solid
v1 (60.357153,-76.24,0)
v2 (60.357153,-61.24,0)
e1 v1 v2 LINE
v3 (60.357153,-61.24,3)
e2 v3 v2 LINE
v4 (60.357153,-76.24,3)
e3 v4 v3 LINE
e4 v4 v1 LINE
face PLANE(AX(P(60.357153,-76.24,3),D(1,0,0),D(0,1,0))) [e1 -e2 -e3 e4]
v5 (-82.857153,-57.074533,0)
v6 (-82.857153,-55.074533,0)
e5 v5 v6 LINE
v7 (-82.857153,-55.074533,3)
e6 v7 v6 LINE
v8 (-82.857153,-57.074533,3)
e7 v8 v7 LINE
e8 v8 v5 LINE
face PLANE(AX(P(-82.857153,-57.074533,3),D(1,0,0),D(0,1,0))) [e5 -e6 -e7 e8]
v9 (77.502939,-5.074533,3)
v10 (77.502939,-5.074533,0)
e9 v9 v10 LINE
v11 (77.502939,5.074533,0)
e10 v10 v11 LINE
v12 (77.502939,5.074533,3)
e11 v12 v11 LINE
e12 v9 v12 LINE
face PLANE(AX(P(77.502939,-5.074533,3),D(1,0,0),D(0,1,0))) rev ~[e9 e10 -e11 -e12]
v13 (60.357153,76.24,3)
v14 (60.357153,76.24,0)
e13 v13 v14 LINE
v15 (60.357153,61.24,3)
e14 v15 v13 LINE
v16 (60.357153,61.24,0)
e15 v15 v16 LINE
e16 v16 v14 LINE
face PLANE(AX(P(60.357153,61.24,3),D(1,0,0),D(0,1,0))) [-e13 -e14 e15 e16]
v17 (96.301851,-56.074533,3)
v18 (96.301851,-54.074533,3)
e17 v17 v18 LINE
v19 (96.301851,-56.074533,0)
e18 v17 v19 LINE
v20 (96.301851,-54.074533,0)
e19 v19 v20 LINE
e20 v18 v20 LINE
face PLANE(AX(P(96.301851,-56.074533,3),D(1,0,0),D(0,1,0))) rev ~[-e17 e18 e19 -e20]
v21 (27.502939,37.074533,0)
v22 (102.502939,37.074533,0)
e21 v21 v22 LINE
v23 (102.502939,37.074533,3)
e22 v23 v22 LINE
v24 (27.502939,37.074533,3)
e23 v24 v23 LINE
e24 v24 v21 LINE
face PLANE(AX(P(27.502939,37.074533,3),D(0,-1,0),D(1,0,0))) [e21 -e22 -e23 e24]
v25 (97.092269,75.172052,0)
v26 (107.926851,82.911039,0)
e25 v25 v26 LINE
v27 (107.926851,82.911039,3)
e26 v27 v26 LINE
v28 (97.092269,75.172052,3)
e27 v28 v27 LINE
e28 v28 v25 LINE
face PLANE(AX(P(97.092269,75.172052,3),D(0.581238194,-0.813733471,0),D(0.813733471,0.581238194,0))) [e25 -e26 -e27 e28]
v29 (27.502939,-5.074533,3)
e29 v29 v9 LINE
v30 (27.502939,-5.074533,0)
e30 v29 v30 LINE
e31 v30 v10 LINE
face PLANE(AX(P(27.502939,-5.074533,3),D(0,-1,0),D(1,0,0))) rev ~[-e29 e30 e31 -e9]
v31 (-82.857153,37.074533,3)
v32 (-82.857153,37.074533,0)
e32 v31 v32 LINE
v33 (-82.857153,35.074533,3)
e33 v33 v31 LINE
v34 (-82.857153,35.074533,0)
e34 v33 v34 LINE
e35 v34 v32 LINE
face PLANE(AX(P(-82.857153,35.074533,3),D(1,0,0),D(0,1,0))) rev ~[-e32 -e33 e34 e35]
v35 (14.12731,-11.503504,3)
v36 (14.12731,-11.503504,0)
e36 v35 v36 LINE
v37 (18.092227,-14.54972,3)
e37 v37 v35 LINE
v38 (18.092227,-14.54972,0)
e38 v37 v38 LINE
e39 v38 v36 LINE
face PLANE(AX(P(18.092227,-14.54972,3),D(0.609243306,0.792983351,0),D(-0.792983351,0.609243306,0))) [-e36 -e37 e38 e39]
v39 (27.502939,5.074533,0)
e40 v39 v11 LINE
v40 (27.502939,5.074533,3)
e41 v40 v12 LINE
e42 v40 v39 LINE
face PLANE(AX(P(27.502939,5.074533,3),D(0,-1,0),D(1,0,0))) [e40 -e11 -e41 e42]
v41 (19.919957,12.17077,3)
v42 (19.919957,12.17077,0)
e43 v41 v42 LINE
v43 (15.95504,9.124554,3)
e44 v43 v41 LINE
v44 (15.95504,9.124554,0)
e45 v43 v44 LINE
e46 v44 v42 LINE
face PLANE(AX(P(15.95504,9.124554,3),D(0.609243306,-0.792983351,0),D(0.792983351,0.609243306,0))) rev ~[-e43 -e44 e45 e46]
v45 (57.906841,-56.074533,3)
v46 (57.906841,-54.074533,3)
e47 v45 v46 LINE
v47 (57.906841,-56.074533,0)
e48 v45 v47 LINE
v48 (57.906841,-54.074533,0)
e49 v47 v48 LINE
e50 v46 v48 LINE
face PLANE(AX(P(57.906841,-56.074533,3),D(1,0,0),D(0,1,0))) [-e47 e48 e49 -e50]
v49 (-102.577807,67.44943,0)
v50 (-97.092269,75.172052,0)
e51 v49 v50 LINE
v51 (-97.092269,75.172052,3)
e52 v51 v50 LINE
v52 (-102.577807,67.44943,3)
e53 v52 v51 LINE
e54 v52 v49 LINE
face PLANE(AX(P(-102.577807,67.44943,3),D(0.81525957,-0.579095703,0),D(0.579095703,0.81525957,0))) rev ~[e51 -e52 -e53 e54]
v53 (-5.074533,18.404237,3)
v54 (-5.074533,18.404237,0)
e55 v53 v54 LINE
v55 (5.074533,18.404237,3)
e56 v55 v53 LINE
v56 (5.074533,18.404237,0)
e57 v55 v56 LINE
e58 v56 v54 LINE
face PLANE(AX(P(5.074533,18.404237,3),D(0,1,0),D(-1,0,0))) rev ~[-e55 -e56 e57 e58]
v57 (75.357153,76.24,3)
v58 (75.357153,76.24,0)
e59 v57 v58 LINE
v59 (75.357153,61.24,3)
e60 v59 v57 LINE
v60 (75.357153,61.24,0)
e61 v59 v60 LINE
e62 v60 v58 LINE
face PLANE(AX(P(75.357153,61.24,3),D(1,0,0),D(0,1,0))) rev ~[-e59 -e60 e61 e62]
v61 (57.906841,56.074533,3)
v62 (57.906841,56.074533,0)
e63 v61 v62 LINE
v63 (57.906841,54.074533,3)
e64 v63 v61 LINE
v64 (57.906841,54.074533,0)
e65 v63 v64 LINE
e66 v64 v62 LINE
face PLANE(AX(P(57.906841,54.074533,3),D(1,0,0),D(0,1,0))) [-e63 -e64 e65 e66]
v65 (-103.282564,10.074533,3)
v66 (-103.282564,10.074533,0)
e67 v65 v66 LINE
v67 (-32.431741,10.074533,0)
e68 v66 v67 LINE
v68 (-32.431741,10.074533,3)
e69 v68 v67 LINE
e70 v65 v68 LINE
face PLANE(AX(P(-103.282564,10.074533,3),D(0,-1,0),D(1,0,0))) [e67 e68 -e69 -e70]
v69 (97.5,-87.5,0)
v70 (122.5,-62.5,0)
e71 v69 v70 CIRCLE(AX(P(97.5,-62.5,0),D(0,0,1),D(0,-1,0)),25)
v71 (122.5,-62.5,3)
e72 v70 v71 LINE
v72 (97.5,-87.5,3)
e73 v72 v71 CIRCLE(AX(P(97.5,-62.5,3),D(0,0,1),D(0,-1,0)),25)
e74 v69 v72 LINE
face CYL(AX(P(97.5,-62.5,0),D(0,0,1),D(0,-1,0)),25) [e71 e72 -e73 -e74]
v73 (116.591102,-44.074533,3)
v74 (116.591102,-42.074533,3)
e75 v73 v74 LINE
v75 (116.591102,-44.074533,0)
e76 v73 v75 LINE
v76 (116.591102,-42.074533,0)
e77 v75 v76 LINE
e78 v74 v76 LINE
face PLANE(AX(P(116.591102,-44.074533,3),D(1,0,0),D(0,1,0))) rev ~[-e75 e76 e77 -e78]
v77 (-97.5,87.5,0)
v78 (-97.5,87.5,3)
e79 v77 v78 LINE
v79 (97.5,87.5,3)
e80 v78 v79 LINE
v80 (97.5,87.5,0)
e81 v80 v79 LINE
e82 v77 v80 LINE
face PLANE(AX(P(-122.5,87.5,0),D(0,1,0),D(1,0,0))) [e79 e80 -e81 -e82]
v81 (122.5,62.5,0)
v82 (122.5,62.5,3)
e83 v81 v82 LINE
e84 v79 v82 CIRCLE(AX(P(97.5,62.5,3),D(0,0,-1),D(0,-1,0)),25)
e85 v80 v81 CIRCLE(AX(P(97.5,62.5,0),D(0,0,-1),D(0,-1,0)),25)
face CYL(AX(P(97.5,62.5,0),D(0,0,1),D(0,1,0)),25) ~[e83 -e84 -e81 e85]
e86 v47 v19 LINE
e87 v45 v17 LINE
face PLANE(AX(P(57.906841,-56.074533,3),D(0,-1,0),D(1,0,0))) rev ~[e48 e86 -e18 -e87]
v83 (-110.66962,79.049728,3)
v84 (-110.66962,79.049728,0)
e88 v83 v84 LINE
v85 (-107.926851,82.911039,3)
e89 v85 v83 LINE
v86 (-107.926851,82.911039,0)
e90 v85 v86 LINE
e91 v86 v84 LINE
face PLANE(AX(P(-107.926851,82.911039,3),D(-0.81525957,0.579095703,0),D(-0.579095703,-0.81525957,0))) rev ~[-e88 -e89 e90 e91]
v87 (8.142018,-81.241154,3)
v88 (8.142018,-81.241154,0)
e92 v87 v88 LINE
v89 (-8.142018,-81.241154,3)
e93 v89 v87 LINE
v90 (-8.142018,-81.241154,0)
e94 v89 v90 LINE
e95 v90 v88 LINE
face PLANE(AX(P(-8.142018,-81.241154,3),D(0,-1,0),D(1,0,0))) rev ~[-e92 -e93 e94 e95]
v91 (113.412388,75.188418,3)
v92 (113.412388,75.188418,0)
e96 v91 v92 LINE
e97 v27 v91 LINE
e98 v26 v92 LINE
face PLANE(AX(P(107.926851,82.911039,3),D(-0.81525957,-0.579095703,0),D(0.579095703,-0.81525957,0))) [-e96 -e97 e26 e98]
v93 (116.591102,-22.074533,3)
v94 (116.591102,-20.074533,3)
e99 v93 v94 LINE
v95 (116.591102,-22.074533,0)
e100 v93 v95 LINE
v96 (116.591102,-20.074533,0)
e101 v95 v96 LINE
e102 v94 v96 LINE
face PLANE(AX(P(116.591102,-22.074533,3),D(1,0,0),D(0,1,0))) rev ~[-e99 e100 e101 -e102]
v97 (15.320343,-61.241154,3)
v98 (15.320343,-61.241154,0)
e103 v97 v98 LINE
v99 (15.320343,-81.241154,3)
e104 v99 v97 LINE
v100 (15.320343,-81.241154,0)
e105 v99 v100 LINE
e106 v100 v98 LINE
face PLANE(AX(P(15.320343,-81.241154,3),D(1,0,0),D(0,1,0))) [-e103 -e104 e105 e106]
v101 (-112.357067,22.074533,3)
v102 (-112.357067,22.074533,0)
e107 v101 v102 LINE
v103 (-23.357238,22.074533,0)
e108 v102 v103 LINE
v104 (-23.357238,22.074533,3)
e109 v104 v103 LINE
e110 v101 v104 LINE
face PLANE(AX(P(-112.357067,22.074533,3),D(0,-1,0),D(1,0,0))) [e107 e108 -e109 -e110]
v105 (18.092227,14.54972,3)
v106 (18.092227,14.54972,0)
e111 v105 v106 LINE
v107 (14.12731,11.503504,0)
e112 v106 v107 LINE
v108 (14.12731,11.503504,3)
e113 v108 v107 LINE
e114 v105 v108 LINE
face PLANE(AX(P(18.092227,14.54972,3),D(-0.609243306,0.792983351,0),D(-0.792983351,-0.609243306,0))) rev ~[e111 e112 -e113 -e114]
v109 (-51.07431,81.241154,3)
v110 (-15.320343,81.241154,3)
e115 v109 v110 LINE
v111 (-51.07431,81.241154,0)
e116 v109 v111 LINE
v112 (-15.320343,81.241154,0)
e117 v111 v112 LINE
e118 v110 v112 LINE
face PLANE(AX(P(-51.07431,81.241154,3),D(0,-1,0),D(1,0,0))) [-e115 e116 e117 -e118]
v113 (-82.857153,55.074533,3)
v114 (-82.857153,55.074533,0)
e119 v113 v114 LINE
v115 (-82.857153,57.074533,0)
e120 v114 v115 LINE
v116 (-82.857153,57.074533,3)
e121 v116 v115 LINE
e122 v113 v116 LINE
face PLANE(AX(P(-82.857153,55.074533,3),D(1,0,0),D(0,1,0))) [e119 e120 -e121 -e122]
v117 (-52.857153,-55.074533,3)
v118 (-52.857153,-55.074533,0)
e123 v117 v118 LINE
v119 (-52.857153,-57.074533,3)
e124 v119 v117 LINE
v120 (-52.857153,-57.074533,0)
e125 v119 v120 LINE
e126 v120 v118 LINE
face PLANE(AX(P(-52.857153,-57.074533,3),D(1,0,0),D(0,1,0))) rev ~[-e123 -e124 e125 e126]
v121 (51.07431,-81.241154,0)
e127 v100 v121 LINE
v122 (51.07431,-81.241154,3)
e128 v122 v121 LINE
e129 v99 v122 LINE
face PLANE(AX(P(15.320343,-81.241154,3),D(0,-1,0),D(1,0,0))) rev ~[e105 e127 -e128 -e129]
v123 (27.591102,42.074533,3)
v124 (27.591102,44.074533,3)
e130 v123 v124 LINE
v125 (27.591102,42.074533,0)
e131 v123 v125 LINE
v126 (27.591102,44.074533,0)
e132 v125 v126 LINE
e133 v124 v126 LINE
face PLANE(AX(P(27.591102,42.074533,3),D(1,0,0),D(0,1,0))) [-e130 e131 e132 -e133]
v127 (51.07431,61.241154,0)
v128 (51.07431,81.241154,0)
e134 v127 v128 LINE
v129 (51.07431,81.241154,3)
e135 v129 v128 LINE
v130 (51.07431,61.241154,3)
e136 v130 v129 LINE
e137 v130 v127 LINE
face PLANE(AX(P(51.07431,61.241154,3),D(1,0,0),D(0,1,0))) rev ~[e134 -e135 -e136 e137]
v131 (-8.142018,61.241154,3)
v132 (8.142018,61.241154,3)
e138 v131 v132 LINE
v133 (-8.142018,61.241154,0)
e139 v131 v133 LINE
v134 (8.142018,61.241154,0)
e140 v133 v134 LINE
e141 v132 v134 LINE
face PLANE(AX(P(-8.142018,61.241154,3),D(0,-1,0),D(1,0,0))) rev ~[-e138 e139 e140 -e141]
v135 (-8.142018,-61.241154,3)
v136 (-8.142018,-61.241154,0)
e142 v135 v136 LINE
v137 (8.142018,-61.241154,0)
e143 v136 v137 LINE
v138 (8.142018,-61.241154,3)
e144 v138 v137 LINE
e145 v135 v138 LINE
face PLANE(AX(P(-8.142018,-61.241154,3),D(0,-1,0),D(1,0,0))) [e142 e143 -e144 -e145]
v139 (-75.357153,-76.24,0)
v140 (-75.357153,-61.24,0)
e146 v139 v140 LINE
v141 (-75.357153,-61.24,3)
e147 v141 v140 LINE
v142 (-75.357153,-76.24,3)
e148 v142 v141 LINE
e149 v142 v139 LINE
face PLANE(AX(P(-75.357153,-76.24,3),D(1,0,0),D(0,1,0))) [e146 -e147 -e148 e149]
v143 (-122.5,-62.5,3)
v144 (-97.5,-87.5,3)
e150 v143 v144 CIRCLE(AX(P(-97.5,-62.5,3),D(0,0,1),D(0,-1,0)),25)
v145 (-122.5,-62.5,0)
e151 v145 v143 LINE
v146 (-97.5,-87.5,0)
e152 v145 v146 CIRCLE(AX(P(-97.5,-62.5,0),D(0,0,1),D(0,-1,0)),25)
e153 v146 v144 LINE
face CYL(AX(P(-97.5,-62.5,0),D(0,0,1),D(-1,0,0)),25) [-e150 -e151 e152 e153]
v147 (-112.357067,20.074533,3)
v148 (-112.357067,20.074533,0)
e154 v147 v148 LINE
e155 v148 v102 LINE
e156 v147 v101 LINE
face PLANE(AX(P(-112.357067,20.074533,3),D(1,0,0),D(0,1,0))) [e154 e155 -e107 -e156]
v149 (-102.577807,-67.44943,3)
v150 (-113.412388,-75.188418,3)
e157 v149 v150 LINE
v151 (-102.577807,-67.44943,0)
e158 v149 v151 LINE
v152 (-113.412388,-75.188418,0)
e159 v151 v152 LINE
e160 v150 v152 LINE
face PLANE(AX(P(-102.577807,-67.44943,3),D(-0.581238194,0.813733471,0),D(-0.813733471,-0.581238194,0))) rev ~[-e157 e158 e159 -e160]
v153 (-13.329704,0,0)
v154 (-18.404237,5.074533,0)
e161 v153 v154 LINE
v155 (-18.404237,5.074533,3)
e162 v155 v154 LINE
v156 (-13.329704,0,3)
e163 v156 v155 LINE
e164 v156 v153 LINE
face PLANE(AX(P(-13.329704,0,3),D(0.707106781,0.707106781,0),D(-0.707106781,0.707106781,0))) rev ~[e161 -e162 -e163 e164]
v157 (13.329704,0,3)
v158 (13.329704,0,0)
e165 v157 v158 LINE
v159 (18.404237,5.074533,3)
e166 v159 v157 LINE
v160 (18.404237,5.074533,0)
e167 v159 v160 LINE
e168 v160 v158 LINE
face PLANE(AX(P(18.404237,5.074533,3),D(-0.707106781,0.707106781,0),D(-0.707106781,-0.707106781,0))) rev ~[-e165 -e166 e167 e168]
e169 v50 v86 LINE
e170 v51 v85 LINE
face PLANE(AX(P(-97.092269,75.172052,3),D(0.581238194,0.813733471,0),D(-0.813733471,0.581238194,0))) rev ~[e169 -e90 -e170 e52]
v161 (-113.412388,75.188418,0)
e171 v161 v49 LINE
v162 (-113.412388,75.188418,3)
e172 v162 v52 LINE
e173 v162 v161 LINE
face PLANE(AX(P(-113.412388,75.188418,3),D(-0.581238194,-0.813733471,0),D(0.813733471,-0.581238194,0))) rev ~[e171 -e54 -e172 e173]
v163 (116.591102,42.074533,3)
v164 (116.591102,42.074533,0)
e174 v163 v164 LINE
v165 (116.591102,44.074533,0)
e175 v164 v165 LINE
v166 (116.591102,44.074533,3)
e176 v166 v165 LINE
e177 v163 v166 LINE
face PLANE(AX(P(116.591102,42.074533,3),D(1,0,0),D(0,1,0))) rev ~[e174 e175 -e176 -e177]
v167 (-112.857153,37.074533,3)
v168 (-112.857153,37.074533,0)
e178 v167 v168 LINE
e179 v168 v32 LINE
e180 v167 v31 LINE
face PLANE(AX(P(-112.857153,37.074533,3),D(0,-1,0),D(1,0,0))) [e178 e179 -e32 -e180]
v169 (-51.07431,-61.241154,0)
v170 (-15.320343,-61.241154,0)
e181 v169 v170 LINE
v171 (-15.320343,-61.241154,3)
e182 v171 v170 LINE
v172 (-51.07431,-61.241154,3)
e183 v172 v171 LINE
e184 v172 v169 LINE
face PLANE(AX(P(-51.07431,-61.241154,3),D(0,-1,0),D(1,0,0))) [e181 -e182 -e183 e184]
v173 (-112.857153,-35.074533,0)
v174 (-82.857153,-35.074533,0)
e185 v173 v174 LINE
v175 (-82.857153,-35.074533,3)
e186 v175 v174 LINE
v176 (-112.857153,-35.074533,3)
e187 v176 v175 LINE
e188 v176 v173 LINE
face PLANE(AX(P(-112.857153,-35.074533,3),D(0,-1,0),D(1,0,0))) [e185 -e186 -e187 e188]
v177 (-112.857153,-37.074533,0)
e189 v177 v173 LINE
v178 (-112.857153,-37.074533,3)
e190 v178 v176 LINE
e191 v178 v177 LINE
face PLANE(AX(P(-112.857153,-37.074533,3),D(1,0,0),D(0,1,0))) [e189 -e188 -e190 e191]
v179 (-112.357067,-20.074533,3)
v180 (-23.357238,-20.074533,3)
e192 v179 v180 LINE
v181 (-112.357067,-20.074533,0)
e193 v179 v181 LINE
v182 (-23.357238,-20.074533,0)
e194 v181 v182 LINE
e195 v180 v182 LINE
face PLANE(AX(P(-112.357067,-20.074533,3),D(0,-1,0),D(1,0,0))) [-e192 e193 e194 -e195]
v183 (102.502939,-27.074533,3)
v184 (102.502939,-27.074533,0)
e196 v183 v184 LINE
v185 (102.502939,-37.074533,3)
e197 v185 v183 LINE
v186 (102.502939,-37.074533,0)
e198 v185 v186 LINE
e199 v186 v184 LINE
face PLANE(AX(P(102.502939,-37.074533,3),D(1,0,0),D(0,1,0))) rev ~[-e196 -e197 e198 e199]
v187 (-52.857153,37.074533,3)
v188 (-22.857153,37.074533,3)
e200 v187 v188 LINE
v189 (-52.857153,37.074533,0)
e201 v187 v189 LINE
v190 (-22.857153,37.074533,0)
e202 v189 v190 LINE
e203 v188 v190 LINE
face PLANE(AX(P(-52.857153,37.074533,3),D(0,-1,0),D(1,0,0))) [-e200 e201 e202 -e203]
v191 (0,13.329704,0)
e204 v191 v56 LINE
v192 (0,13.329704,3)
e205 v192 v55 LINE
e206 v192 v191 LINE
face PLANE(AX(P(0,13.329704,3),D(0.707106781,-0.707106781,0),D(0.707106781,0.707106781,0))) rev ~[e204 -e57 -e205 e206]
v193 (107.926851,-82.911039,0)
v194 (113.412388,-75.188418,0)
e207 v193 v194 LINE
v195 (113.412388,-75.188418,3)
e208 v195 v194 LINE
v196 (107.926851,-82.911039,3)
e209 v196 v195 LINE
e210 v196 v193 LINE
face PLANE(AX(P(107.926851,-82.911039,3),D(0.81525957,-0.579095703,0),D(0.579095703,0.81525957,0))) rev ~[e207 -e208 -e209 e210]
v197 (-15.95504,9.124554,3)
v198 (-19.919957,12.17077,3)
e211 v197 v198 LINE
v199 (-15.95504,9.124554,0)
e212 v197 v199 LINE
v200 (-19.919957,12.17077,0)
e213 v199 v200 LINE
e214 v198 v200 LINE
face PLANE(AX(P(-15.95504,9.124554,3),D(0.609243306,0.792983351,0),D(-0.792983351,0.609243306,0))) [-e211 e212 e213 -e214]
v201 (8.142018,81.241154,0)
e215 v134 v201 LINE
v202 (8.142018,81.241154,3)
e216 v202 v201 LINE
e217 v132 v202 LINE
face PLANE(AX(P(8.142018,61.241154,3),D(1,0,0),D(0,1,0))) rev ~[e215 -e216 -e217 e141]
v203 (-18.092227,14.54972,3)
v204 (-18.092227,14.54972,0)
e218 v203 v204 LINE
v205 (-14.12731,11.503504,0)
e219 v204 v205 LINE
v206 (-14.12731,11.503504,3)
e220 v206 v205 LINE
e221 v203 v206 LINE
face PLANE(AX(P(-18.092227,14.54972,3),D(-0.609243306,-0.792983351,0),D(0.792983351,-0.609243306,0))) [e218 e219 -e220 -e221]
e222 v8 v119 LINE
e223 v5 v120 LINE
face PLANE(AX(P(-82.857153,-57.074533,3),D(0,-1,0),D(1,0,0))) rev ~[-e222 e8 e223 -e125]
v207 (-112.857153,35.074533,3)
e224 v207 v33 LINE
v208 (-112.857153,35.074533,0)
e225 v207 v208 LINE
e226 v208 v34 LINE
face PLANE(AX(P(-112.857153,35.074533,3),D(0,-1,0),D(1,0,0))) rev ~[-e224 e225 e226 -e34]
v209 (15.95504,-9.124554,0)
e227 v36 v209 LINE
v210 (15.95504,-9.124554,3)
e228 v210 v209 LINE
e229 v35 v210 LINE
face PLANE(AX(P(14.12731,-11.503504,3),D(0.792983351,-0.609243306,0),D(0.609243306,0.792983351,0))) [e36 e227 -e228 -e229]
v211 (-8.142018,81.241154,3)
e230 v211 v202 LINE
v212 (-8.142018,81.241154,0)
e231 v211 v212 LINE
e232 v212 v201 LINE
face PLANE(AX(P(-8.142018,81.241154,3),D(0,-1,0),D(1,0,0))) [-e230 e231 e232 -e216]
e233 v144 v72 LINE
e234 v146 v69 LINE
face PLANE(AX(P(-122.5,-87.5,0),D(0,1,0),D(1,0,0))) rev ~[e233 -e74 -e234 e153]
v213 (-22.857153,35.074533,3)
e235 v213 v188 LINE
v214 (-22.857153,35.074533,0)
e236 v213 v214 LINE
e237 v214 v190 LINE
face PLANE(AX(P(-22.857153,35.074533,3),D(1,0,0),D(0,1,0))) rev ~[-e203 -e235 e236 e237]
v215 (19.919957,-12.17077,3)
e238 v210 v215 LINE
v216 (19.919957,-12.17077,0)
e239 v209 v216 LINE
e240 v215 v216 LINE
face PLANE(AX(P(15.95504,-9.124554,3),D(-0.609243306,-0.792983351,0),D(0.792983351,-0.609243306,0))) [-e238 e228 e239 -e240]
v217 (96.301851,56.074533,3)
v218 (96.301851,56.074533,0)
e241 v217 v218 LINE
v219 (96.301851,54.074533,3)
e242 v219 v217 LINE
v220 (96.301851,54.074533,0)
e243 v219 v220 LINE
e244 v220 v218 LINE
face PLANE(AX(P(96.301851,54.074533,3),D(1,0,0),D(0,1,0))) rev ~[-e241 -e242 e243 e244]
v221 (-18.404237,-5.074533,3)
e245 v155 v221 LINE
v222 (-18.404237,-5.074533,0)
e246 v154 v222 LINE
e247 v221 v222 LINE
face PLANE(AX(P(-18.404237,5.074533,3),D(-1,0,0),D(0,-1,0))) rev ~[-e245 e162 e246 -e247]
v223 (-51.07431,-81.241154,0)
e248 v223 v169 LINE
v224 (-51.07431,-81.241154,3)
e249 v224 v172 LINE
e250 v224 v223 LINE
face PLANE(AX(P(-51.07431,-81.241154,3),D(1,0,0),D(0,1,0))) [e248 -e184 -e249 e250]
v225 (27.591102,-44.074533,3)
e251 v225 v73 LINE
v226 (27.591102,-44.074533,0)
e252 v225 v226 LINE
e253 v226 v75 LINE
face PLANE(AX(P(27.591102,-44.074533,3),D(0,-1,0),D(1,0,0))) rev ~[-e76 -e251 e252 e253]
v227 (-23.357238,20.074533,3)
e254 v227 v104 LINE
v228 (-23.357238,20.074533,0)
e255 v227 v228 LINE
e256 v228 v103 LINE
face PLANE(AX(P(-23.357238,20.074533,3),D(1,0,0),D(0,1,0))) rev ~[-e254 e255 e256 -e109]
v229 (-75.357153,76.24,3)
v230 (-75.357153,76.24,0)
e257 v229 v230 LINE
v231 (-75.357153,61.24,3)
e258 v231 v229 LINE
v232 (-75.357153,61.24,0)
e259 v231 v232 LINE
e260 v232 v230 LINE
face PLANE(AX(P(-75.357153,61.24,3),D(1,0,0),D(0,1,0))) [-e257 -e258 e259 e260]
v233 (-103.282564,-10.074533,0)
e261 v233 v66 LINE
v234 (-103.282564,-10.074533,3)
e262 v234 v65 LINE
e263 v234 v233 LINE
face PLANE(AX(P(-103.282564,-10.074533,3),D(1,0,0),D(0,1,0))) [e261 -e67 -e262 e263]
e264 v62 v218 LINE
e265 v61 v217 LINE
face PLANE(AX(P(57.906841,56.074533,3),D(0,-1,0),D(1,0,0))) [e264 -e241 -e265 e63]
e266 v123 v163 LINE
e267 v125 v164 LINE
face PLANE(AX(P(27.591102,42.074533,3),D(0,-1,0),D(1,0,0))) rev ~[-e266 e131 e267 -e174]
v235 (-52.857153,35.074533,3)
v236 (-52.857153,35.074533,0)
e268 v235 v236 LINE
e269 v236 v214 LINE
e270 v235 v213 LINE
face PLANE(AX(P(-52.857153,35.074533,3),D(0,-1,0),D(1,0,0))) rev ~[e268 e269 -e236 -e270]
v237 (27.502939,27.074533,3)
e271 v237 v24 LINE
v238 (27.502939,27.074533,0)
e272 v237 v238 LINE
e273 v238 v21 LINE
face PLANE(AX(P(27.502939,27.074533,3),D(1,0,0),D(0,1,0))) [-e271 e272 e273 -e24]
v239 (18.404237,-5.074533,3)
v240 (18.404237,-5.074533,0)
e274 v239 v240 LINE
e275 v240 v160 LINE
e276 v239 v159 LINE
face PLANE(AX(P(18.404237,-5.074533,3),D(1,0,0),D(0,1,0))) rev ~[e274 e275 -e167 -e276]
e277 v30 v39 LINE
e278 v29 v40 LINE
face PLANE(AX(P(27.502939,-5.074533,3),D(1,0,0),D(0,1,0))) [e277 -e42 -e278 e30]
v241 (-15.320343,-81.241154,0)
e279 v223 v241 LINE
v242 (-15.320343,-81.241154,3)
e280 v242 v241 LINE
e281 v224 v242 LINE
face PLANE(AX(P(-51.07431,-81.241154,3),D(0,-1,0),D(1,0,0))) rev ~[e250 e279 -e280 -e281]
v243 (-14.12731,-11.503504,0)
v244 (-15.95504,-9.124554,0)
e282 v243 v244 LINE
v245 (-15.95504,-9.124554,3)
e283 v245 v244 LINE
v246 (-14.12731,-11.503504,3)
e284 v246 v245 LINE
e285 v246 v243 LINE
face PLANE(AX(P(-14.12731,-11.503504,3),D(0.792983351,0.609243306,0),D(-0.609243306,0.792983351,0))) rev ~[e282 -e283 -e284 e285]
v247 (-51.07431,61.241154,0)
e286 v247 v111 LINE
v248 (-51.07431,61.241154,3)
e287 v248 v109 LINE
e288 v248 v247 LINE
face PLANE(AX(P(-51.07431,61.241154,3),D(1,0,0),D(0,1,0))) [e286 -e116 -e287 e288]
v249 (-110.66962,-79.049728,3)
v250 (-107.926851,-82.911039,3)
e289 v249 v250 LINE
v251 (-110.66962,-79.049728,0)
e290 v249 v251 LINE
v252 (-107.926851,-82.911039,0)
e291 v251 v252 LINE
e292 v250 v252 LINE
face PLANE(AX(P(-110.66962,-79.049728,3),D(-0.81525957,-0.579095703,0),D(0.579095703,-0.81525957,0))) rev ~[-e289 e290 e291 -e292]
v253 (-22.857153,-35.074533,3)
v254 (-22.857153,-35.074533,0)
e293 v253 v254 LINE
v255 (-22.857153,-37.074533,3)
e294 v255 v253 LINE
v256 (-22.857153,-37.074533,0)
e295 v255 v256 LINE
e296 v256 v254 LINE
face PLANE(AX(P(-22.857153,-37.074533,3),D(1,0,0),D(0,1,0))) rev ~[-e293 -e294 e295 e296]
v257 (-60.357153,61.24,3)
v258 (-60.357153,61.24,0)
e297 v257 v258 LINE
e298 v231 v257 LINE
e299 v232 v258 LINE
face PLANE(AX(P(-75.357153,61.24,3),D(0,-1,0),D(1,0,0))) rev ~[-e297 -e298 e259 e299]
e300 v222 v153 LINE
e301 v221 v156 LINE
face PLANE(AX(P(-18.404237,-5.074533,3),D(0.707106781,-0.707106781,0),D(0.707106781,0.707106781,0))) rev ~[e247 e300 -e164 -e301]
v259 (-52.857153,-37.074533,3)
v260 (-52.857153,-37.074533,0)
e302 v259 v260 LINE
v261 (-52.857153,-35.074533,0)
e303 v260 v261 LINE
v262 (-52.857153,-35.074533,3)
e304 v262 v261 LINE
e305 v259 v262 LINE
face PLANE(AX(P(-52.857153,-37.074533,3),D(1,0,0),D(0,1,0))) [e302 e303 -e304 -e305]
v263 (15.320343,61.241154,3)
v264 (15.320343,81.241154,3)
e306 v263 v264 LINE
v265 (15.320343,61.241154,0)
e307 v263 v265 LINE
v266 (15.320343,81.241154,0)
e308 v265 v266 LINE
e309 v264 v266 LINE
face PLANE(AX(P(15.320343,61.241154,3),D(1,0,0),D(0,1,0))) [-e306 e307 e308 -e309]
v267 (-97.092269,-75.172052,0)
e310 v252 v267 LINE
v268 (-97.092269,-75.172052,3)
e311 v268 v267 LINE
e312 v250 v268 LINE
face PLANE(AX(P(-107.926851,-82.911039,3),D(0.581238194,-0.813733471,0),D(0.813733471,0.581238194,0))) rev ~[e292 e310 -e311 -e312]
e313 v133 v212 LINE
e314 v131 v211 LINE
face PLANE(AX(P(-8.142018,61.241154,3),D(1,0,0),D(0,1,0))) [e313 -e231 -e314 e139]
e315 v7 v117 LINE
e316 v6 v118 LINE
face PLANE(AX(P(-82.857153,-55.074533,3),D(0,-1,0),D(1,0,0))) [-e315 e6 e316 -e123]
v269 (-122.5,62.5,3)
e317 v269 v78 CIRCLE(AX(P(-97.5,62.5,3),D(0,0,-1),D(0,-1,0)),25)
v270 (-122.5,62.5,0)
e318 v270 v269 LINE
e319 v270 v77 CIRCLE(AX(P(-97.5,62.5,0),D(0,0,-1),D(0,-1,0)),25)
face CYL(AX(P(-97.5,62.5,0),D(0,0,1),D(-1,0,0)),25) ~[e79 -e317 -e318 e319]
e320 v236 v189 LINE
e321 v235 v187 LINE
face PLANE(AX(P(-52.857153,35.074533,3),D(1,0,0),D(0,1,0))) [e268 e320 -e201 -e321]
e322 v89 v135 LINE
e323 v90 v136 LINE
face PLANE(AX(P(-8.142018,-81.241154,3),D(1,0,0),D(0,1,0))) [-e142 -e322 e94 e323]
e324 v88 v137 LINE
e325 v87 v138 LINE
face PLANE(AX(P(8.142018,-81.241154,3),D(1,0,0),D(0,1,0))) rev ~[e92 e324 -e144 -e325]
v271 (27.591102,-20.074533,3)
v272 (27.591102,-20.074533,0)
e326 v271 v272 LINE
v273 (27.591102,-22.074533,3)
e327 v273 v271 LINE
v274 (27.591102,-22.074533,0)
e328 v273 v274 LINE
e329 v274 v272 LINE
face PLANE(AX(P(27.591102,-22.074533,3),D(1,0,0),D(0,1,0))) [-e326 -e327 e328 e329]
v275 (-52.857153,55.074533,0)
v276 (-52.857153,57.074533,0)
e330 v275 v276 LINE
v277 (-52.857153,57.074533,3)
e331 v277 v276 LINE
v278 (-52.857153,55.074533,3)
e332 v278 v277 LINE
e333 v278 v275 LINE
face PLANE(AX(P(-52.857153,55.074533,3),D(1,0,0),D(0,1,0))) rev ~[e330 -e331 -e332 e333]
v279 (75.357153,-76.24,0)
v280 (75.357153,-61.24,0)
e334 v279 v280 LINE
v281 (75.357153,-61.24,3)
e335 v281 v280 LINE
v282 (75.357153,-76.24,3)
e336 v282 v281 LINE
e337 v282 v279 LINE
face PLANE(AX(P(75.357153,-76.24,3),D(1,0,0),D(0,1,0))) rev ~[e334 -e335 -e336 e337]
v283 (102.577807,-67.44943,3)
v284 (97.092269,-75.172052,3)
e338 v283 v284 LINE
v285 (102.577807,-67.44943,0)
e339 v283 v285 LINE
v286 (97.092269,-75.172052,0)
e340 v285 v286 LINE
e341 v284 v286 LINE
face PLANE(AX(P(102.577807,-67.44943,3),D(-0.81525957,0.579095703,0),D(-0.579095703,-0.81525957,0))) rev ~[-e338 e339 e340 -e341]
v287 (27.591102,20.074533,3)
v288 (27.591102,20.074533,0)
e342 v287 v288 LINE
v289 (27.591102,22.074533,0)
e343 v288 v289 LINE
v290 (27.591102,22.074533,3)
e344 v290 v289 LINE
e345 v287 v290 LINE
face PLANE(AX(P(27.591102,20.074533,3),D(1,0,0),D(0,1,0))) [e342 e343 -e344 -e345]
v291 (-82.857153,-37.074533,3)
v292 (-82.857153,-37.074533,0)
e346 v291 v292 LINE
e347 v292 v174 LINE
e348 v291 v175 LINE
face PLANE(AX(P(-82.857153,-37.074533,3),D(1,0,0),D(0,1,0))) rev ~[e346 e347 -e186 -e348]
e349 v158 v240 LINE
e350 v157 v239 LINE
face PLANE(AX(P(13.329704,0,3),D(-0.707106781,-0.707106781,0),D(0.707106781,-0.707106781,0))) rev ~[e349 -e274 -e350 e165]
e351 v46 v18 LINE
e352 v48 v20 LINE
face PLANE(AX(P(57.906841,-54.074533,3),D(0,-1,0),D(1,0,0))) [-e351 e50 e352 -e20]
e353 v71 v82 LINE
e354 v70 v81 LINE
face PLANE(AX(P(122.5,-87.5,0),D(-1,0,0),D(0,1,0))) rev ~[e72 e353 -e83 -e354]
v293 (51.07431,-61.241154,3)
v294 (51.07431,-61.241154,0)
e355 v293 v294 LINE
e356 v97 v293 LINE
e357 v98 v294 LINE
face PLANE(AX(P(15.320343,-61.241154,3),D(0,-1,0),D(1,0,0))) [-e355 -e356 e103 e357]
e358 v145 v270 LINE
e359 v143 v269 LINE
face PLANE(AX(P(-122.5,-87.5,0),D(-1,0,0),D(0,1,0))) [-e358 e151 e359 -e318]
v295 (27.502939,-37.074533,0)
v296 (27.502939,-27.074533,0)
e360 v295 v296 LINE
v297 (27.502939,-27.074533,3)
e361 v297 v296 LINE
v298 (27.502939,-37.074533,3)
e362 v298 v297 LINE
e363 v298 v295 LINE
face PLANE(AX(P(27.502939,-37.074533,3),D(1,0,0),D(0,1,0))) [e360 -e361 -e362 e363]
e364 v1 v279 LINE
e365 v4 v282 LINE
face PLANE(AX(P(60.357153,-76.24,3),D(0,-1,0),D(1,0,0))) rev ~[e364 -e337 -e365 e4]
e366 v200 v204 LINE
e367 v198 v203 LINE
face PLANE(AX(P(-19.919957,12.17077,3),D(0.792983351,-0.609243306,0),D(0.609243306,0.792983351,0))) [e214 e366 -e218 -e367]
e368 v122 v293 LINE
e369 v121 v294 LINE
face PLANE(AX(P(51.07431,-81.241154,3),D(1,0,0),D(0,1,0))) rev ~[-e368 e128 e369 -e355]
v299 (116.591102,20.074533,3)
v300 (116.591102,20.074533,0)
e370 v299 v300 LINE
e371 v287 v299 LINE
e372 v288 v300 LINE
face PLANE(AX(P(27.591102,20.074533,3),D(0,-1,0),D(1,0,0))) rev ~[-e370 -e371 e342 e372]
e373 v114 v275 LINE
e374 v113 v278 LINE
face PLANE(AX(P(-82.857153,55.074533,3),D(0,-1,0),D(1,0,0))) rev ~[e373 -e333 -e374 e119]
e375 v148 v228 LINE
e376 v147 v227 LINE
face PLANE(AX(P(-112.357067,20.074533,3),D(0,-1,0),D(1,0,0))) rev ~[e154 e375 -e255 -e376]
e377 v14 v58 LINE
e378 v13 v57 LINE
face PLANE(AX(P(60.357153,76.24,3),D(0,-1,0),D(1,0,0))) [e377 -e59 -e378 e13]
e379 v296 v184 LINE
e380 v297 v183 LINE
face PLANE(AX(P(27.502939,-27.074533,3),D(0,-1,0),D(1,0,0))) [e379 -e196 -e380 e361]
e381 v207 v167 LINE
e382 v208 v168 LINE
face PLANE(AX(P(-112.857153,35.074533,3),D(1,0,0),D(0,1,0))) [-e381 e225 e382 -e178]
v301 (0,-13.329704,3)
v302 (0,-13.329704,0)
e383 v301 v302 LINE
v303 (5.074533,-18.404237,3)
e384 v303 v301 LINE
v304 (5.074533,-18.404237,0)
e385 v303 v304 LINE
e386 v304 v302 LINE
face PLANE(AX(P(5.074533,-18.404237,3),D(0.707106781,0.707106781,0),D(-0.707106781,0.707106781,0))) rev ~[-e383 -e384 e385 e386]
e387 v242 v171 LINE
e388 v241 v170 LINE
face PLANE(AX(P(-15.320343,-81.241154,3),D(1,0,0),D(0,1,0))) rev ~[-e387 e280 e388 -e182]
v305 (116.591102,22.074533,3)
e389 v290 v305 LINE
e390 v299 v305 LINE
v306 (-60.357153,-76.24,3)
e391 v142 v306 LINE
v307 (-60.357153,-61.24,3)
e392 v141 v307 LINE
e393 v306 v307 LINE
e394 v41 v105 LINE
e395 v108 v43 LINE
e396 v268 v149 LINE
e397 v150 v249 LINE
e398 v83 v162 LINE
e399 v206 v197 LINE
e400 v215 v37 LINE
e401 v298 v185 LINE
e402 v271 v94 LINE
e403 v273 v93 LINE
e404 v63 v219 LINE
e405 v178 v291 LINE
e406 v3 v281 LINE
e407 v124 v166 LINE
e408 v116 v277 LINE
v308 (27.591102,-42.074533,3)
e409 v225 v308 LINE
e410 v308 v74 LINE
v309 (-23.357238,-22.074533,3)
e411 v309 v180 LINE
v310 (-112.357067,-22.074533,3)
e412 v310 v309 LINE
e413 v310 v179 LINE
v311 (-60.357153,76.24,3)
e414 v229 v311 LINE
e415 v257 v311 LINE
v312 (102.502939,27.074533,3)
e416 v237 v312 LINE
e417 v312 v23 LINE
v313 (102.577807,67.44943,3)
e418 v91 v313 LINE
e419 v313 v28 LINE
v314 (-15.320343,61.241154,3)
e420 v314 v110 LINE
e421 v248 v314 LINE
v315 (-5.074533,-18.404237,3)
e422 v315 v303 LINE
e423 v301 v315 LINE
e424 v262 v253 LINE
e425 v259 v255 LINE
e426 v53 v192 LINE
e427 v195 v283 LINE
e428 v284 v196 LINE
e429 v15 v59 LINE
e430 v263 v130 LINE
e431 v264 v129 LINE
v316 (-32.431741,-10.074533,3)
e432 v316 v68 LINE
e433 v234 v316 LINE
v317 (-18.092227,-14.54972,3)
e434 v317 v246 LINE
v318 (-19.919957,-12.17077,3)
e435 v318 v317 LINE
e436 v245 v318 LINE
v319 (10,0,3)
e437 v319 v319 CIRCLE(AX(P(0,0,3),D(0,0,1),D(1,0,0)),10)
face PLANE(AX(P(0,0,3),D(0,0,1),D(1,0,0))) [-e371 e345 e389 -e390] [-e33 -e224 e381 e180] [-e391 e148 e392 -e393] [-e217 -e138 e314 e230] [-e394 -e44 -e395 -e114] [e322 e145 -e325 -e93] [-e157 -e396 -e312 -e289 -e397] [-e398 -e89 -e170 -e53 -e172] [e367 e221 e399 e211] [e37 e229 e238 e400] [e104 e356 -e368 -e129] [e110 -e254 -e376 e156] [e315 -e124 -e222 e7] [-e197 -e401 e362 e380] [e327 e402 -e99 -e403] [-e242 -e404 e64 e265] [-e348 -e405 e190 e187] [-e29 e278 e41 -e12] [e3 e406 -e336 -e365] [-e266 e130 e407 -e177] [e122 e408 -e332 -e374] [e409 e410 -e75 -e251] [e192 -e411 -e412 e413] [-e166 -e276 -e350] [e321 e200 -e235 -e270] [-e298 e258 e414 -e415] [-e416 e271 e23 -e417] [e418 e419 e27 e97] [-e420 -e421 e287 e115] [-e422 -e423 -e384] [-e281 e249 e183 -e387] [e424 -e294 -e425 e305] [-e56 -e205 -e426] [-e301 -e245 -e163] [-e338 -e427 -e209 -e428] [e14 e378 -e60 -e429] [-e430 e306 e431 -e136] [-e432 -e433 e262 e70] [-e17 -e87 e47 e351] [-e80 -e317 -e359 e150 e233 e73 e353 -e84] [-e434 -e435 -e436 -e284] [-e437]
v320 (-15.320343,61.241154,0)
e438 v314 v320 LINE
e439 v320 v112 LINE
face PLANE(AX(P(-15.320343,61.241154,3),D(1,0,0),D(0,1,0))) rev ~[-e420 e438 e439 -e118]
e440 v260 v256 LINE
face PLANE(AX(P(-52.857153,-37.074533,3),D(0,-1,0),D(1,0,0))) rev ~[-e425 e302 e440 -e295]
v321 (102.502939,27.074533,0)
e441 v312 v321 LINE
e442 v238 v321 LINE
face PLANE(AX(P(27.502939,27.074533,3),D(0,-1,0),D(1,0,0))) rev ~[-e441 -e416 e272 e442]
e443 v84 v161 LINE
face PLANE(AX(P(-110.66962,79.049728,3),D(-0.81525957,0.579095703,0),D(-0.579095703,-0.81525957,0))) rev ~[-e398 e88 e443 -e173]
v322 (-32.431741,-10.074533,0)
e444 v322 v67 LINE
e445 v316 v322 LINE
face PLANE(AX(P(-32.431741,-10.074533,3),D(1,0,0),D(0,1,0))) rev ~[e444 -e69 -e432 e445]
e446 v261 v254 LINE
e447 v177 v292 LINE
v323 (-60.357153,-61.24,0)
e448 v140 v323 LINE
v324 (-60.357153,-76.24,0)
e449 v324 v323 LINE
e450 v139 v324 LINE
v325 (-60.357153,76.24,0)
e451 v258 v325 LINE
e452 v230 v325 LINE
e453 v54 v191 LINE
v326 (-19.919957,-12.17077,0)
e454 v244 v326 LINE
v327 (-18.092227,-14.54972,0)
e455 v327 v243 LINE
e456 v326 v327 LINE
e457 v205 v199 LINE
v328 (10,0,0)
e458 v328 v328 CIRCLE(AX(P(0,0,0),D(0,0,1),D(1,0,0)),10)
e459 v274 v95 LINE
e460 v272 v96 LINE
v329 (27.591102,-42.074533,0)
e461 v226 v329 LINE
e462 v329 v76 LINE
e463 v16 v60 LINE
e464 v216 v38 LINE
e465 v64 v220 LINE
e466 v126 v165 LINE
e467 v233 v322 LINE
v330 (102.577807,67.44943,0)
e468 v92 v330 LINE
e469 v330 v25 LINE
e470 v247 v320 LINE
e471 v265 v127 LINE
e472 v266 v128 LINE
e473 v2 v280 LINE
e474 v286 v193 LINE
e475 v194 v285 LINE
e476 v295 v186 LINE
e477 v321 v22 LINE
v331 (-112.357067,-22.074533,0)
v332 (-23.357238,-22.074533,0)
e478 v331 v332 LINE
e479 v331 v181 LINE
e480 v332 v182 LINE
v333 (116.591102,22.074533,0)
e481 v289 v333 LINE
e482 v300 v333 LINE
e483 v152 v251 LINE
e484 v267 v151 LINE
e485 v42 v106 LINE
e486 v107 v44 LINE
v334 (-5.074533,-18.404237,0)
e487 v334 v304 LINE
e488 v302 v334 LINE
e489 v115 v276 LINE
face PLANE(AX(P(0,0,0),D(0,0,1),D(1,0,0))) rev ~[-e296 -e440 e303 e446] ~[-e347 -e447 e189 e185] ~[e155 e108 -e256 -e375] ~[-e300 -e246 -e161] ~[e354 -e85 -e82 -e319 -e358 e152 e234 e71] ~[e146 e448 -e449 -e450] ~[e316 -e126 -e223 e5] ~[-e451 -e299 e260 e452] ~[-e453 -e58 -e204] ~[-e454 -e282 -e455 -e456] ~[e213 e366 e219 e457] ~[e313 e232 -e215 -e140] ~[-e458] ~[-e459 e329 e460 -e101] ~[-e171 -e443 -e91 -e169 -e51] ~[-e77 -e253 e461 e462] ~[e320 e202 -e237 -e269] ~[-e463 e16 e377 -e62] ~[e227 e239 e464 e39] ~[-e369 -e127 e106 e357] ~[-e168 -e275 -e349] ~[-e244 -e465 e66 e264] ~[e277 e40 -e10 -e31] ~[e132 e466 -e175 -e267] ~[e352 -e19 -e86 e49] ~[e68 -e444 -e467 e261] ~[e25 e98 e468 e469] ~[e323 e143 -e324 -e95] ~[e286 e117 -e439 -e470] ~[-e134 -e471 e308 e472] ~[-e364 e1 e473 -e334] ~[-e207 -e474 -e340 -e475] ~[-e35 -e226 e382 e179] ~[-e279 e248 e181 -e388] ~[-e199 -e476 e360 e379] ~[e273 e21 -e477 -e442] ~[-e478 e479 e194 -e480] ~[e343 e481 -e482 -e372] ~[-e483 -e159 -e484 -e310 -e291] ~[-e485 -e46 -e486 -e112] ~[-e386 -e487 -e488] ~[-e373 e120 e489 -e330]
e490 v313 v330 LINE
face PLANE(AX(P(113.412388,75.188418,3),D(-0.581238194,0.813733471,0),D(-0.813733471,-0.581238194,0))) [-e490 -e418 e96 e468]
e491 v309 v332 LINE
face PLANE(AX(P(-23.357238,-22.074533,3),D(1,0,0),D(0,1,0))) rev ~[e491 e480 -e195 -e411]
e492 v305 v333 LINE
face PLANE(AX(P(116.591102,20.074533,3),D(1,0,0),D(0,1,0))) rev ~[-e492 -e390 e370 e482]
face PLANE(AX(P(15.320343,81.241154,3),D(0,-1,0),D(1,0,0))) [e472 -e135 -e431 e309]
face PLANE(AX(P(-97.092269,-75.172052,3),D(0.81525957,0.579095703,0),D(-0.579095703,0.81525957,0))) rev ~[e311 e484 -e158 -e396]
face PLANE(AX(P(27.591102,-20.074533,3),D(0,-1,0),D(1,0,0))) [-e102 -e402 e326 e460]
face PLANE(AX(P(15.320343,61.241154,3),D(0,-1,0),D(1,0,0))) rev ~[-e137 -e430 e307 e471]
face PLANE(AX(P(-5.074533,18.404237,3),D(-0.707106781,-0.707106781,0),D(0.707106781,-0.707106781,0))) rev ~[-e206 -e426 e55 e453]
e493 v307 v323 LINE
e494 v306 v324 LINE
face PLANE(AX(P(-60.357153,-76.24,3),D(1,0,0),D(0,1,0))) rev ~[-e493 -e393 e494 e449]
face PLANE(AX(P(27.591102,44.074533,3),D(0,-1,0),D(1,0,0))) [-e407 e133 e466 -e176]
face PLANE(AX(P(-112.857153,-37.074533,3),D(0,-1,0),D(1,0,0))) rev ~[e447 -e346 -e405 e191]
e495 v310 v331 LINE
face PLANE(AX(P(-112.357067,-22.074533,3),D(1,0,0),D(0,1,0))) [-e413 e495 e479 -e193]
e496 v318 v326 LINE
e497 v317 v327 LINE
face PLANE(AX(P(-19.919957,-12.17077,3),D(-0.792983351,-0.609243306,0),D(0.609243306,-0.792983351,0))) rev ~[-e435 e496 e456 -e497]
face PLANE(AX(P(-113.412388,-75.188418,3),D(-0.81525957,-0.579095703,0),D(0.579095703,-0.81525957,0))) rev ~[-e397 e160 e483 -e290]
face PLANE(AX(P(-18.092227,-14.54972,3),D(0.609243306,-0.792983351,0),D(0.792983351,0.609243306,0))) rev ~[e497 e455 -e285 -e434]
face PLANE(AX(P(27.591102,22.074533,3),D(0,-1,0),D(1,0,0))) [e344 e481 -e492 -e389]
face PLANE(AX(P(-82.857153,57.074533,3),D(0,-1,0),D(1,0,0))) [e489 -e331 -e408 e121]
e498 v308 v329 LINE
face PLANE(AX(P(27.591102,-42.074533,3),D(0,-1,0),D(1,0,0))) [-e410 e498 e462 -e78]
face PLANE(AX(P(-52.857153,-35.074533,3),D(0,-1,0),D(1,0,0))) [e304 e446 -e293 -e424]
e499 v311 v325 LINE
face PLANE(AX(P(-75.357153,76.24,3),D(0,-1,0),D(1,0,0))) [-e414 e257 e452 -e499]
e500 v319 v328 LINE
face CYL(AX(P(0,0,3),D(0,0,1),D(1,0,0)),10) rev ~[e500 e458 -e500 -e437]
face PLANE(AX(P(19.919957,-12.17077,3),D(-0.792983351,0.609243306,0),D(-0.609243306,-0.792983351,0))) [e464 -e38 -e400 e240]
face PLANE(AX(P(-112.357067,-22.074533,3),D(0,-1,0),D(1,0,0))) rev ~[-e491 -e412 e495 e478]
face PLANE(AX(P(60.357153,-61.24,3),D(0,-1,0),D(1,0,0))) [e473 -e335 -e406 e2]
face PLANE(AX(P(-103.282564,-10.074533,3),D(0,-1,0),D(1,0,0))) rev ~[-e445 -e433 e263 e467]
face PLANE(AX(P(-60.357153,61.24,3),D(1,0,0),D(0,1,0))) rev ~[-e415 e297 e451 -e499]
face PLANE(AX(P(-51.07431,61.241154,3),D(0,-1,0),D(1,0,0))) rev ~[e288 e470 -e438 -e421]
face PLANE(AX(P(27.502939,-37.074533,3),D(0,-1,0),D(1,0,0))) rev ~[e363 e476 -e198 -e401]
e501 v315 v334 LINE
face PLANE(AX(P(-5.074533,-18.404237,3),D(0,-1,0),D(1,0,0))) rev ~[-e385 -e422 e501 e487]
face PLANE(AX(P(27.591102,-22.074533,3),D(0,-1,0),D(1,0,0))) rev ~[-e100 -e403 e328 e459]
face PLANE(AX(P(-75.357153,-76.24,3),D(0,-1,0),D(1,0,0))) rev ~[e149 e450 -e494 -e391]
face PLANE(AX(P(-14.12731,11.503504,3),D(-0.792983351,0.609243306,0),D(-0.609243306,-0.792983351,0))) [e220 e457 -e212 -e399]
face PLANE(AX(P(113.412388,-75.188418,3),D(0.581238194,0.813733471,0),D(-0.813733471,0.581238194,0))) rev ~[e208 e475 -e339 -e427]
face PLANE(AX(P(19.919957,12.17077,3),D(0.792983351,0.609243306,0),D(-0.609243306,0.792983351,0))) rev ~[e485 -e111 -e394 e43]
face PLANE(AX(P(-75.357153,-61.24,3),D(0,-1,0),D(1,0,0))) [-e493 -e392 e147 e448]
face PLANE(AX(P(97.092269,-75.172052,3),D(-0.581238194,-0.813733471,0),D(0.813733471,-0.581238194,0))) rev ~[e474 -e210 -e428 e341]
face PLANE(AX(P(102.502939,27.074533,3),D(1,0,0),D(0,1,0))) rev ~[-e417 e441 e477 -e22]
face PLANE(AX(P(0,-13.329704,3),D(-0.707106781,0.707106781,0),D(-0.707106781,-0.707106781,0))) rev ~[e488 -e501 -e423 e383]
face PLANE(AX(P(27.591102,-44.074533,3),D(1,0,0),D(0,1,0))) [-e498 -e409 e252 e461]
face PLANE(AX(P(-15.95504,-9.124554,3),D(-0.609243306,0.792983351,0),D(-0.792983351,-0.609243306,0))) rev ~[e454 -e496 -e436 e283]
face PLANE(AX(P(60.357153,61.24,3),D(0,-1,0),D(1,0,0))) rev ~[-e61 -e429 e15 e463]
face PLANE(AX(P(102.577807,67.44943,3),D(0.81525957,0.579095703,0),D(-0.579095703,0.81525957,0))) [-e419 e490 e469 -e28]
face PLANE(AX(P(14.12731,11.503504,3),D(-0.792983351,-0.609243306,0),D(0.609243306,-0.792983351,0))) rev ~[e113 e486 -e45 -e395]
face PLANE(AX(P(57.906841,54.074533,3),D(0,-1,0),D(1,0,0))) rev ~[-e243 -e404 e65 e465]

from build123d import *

# Parameters (mm, degrees)
SKETCH1_W           = 245
SKETCH1_H           = 175
BOSS_EXTRUDE1_DEPTH = 3
SKETCH2_W           = 30
SKETCH2_H           = 2
SKETCH2_W_2         = 70.850822781
SKETCH2_H_2         = 20.149065526
SKETCH2_W_3         = 88.999828845
SKETCH2_W_4         = 16.284036158
SKETCH2_H_3         = 20
SKETCH2_W_5         = 35.753967601
SKETCH2_W_6         = 15
SKETCH2_H_4         = 15
SKETCH2_R           = 10
CUT_EXTRUDE1_DEPTH  = 151.570581456
FILLET1_R           = 25
SKETCH2_4_W         = 89
SKETCH2_4_H         = 2
SKETCH2_4_W_2       = 50
SKETCH2_4_H_2       = 10.149065526
SKETCH2_4_W_3       = 75
SKETCH2_4_H_3       = 10
SKETCH2_4_W_4       = 15
SKETCH2_4_H_4       = 15
SKETCH2_4_W_5       = 35.753967601
SKETCH2_4_H_5       = 20
SKETCH2_4_W_6       = 38.395009933
CUT_EXTRUDE2_DEPTH  = 10
SKETCH2_5_W         = 16.284036158
SKETCH2_5_H         = 20
CUT_EXTRUDE3_DEPTH  = 10
CUT_EXTRUDE4_DEPTH  = 10
CUT_EXTRUDE5_DEPTH  = 10


with BuildPart() as part:
    # Sketch1 → Boss-Extrude1 (new body)
    with BuildSketch(Plane.XY):
        Rectangle(SKETCH1_W, SKETCH1_H)
    extrude(amount=BOSS_EXTRUDE1_DEPTH)

    # Sketch2 → Cut-Extrude1 (cut, through all)
    with BuildSketch(Plane.XY.offset(3)):
        with Locations((-37.857152872, 36.074532763)):
            Rectangle(SKETCH2_W, SKETCH2_H)
        with Locations((-67.857152873, 0)):
            Rectangle(SKETCH2_W_2, SKETCH2_H_2)
        with Locations((-67.857152873, 21.074532763)):
            Rectangle(SKETCH2_W_3, SKETCH2_H)
        with Locations((-97.857152872, 36.074532763)):
            Rectangle(SKETCH2_W, SKETCH2_H)
        with Locations((-67.857152872, 56.074532763)):
            Rectangle(SKETCH2_W, SKETCH2_H)
        with Locations((0, 71.241154444)):
            Rectangle(SKETCH2_W_4, SKETCH2_H_3)
        with Locations((-33.197326406, 71.241154444)):
            Rectangle(SKETCH2_W_5, SKETCH2_H_3)
        with Locations((-67.857152872, 68.74)):
            Rectangle(SKETCH2_W_6, SKETCH2_H_4)
        Polygon((-110.669619636, 79.049728312), (-113.412388394, 75.188417537), (-102.577806523, 67.449430486), (-97.092269008, 75.172052036), (-107.926850879, 82.911039086), align=None)
        Polygon((-110.669619636, -79.049728312), (-107.926850879, -82.911039086), (-97.092269008, -75.172052036), (-102.577806523, -67.449430486), (-113.412388394, -75.188417537), align=None)
        with Locations((-67.857152872, -68.74)):
            Rectangle(SKETCH2_W_6, SKETCH2_H_4)
        with Locations((-33.197326406, -71.241154444)):
            Rectangle(SKETCH2_W_5, SKETCH2_H_3)
        with Locations((-67.857152872, -56.074532763)):
            Rectangle(SKETCH2_W, SKETCH2_H)
        with Locations((-97.857152872, -36.074532763)):
            Rectangle(SKETCH2_W, SKETCH2_H)
        with Locations((-37.857152872, -36.074532763)):
            Rectangle(SKETCH2_W, SKETCH2_H)
        with Locations((-67.857152873, -21.074532763)):
            Rectangle(SKETCH2_W_3, SKETCH2_H)
        Circle(SKETCH2_R)
    extrude(amount=-CUT_EXTRUDE1_DEPTH, mode=Mode.SUBTRACT)

    # Fillet1
    fillet1_edges = [part.edges().sort_by_distance(p)[0] for p in [
        (-122.5, -87.5, 1.5),
        (122.5, -87.5, 1.5),
        (122.5, 87.5, 1.5),
        (-122.5, 87.5, 1.5),
    ]]
    fillet(fillet1_edges, radius=FILLET1_R)

    # Sketch2<4> → Cut-Extrude2 (cut)
    with BuildSketch(Plane.XY.offset(3)):
        with Locations((72.091101618, -43.074532763)):
            Rectangle(SKETCH2_4_W, SKETCH2_4_H)
        with Locations((52.502938646, 0)):
            Rectangle(SKETCH2_4_W_2, SKETCH2_4_H_2)
        with Locations((72.091101618, -21.074532763)):
            Rectangle(SKETCH2_4_W, SKETCH2_4_H)
        with Locations((65.002938646, -32.074532763)):
            Rectangle(SKETCH2_4_W_3, SKETCH2_4_H_3)
        Polygon((97.092269008, -75.172052036), (107.926850879, -82.911039086), (113.412388394, -75.188417537), (102.577806523, -67.449430486), align=None)
        with Locations((67.857152872, -68.74)):
            Rectangle(SKETCH2_4_W_4, SKETCH2_4_H_4)
        with Locations((33.197326406, -71.241154444)):
            Rectangle(SKETCH2_4_W_5, SKETCH2_4_H_5)
        Polygon((97.092269008, 75.172052036), (102.577806523, 67.449430486), (113.412388394, 75.188417537), (107.926850879, 82.911039086), align=None)
        with Locations((67.857152872, 68.74)):
            Rectangle(SKETCH2_4_W_4, SKETCH2_4_H_4)
        with Locations((33.197326406, 71.241154444)):
            Rectangle(SKETCH2_4_W_5, SKETCH2_4_H_5)
        with Locations((72.091101618, 43.074532763)):
            Rectangle(SKETCH2_4_W, SKETCH2_4_H)
        with Locations((72.091101618, 21.074532763)):
            Rectangle(SKETCH2_4_W, SKETCH2_4_H)
        with Locations((65.002938646, 32.074532763)):
            Rectangle(SKETCH2_4_W_3, SKETCH2_4_H_3)
        with Locations((77.104345869, 55.074532763)):
            Rectangle(SKETCH2_4_W_6, SKETCH2_4_H)
        with Locations((77.104345869, -55.074532763)):
            Rectangle(SKETCH2_4_W_6, SKETCH2_4_H)
    extrude(amount=-CUT_EXTRUDE2_DEPTH, mode=Mode.SUBTRACT)

    # Sketch2<5> → Cut-Extrude3 (cut)
    with BuildSketch(Plane.XY.offset(3)):
        with Locations((0, -71.241154444)):
            Rectangle(SKETCH2_5_W, SKETCH2_5_H)
    extrude(amount=-CUT_EXTRUDE3_DEPTH, mode=Mode.SUBTRACT)

    # Sketch2<6> → Cut-Extrude4 (cut)
    with BuildSketch(Plane.XY.offset(3)):
        Polygon((-13.32970408, 0), (-18.404236844, 5.074532763), (-18.404236844, -5.074532763), align=None)
        Polygon((-5.074532763, 18.404236844), (0, 13.32970408), (5.074532763, 18.404236844), align=None)
        Polygon((18.404236844, 5.074532763), (13.32970408, 0), (18.404236844, -5.074532763), align=None)
        Polygon((5.074532763, -18.404236844), (0, -13.32970408), (-5.074532763, -18.404236844), align=None)
    extrude(amount=-CUT_EXTRUDE4_DEPTH, mode=Mode.SUBTRACT)

    # Sketch2<7> → Cut-Extrude5 (cut)
    with BuildSketch(Plane.XY.offset(3)):
        Polygon((19.919957162, -12.170770236), (15.95504041, -9.124553707), (14.127310492, -11.503503759), (18.092227245, -14.549720288), align=None)
        Polygon((19.919957162, 12.170770236), (18.092227245, 14.549720288), (14.127310492, 11.503503759), (15.95504041, 9.124553707), align=None)
        Polygon((-18.092227245, 14.549720288), (-19.919957162, 12.170770236), (-15.95504041, 9.124553707), (-14.127310492, 11.503503759), align=None)
        Polygon((-19.919957162, -12.170770236), (-18.092227245, -14.549720288), (-14.127310492, -11.503503759), (-15.95504041, -9.124553707), align=None)
    extrude(amount=-CUT_EXTRUDE5_DEPTH, mode=Mode.SUBTRACT)


solid = part.part
